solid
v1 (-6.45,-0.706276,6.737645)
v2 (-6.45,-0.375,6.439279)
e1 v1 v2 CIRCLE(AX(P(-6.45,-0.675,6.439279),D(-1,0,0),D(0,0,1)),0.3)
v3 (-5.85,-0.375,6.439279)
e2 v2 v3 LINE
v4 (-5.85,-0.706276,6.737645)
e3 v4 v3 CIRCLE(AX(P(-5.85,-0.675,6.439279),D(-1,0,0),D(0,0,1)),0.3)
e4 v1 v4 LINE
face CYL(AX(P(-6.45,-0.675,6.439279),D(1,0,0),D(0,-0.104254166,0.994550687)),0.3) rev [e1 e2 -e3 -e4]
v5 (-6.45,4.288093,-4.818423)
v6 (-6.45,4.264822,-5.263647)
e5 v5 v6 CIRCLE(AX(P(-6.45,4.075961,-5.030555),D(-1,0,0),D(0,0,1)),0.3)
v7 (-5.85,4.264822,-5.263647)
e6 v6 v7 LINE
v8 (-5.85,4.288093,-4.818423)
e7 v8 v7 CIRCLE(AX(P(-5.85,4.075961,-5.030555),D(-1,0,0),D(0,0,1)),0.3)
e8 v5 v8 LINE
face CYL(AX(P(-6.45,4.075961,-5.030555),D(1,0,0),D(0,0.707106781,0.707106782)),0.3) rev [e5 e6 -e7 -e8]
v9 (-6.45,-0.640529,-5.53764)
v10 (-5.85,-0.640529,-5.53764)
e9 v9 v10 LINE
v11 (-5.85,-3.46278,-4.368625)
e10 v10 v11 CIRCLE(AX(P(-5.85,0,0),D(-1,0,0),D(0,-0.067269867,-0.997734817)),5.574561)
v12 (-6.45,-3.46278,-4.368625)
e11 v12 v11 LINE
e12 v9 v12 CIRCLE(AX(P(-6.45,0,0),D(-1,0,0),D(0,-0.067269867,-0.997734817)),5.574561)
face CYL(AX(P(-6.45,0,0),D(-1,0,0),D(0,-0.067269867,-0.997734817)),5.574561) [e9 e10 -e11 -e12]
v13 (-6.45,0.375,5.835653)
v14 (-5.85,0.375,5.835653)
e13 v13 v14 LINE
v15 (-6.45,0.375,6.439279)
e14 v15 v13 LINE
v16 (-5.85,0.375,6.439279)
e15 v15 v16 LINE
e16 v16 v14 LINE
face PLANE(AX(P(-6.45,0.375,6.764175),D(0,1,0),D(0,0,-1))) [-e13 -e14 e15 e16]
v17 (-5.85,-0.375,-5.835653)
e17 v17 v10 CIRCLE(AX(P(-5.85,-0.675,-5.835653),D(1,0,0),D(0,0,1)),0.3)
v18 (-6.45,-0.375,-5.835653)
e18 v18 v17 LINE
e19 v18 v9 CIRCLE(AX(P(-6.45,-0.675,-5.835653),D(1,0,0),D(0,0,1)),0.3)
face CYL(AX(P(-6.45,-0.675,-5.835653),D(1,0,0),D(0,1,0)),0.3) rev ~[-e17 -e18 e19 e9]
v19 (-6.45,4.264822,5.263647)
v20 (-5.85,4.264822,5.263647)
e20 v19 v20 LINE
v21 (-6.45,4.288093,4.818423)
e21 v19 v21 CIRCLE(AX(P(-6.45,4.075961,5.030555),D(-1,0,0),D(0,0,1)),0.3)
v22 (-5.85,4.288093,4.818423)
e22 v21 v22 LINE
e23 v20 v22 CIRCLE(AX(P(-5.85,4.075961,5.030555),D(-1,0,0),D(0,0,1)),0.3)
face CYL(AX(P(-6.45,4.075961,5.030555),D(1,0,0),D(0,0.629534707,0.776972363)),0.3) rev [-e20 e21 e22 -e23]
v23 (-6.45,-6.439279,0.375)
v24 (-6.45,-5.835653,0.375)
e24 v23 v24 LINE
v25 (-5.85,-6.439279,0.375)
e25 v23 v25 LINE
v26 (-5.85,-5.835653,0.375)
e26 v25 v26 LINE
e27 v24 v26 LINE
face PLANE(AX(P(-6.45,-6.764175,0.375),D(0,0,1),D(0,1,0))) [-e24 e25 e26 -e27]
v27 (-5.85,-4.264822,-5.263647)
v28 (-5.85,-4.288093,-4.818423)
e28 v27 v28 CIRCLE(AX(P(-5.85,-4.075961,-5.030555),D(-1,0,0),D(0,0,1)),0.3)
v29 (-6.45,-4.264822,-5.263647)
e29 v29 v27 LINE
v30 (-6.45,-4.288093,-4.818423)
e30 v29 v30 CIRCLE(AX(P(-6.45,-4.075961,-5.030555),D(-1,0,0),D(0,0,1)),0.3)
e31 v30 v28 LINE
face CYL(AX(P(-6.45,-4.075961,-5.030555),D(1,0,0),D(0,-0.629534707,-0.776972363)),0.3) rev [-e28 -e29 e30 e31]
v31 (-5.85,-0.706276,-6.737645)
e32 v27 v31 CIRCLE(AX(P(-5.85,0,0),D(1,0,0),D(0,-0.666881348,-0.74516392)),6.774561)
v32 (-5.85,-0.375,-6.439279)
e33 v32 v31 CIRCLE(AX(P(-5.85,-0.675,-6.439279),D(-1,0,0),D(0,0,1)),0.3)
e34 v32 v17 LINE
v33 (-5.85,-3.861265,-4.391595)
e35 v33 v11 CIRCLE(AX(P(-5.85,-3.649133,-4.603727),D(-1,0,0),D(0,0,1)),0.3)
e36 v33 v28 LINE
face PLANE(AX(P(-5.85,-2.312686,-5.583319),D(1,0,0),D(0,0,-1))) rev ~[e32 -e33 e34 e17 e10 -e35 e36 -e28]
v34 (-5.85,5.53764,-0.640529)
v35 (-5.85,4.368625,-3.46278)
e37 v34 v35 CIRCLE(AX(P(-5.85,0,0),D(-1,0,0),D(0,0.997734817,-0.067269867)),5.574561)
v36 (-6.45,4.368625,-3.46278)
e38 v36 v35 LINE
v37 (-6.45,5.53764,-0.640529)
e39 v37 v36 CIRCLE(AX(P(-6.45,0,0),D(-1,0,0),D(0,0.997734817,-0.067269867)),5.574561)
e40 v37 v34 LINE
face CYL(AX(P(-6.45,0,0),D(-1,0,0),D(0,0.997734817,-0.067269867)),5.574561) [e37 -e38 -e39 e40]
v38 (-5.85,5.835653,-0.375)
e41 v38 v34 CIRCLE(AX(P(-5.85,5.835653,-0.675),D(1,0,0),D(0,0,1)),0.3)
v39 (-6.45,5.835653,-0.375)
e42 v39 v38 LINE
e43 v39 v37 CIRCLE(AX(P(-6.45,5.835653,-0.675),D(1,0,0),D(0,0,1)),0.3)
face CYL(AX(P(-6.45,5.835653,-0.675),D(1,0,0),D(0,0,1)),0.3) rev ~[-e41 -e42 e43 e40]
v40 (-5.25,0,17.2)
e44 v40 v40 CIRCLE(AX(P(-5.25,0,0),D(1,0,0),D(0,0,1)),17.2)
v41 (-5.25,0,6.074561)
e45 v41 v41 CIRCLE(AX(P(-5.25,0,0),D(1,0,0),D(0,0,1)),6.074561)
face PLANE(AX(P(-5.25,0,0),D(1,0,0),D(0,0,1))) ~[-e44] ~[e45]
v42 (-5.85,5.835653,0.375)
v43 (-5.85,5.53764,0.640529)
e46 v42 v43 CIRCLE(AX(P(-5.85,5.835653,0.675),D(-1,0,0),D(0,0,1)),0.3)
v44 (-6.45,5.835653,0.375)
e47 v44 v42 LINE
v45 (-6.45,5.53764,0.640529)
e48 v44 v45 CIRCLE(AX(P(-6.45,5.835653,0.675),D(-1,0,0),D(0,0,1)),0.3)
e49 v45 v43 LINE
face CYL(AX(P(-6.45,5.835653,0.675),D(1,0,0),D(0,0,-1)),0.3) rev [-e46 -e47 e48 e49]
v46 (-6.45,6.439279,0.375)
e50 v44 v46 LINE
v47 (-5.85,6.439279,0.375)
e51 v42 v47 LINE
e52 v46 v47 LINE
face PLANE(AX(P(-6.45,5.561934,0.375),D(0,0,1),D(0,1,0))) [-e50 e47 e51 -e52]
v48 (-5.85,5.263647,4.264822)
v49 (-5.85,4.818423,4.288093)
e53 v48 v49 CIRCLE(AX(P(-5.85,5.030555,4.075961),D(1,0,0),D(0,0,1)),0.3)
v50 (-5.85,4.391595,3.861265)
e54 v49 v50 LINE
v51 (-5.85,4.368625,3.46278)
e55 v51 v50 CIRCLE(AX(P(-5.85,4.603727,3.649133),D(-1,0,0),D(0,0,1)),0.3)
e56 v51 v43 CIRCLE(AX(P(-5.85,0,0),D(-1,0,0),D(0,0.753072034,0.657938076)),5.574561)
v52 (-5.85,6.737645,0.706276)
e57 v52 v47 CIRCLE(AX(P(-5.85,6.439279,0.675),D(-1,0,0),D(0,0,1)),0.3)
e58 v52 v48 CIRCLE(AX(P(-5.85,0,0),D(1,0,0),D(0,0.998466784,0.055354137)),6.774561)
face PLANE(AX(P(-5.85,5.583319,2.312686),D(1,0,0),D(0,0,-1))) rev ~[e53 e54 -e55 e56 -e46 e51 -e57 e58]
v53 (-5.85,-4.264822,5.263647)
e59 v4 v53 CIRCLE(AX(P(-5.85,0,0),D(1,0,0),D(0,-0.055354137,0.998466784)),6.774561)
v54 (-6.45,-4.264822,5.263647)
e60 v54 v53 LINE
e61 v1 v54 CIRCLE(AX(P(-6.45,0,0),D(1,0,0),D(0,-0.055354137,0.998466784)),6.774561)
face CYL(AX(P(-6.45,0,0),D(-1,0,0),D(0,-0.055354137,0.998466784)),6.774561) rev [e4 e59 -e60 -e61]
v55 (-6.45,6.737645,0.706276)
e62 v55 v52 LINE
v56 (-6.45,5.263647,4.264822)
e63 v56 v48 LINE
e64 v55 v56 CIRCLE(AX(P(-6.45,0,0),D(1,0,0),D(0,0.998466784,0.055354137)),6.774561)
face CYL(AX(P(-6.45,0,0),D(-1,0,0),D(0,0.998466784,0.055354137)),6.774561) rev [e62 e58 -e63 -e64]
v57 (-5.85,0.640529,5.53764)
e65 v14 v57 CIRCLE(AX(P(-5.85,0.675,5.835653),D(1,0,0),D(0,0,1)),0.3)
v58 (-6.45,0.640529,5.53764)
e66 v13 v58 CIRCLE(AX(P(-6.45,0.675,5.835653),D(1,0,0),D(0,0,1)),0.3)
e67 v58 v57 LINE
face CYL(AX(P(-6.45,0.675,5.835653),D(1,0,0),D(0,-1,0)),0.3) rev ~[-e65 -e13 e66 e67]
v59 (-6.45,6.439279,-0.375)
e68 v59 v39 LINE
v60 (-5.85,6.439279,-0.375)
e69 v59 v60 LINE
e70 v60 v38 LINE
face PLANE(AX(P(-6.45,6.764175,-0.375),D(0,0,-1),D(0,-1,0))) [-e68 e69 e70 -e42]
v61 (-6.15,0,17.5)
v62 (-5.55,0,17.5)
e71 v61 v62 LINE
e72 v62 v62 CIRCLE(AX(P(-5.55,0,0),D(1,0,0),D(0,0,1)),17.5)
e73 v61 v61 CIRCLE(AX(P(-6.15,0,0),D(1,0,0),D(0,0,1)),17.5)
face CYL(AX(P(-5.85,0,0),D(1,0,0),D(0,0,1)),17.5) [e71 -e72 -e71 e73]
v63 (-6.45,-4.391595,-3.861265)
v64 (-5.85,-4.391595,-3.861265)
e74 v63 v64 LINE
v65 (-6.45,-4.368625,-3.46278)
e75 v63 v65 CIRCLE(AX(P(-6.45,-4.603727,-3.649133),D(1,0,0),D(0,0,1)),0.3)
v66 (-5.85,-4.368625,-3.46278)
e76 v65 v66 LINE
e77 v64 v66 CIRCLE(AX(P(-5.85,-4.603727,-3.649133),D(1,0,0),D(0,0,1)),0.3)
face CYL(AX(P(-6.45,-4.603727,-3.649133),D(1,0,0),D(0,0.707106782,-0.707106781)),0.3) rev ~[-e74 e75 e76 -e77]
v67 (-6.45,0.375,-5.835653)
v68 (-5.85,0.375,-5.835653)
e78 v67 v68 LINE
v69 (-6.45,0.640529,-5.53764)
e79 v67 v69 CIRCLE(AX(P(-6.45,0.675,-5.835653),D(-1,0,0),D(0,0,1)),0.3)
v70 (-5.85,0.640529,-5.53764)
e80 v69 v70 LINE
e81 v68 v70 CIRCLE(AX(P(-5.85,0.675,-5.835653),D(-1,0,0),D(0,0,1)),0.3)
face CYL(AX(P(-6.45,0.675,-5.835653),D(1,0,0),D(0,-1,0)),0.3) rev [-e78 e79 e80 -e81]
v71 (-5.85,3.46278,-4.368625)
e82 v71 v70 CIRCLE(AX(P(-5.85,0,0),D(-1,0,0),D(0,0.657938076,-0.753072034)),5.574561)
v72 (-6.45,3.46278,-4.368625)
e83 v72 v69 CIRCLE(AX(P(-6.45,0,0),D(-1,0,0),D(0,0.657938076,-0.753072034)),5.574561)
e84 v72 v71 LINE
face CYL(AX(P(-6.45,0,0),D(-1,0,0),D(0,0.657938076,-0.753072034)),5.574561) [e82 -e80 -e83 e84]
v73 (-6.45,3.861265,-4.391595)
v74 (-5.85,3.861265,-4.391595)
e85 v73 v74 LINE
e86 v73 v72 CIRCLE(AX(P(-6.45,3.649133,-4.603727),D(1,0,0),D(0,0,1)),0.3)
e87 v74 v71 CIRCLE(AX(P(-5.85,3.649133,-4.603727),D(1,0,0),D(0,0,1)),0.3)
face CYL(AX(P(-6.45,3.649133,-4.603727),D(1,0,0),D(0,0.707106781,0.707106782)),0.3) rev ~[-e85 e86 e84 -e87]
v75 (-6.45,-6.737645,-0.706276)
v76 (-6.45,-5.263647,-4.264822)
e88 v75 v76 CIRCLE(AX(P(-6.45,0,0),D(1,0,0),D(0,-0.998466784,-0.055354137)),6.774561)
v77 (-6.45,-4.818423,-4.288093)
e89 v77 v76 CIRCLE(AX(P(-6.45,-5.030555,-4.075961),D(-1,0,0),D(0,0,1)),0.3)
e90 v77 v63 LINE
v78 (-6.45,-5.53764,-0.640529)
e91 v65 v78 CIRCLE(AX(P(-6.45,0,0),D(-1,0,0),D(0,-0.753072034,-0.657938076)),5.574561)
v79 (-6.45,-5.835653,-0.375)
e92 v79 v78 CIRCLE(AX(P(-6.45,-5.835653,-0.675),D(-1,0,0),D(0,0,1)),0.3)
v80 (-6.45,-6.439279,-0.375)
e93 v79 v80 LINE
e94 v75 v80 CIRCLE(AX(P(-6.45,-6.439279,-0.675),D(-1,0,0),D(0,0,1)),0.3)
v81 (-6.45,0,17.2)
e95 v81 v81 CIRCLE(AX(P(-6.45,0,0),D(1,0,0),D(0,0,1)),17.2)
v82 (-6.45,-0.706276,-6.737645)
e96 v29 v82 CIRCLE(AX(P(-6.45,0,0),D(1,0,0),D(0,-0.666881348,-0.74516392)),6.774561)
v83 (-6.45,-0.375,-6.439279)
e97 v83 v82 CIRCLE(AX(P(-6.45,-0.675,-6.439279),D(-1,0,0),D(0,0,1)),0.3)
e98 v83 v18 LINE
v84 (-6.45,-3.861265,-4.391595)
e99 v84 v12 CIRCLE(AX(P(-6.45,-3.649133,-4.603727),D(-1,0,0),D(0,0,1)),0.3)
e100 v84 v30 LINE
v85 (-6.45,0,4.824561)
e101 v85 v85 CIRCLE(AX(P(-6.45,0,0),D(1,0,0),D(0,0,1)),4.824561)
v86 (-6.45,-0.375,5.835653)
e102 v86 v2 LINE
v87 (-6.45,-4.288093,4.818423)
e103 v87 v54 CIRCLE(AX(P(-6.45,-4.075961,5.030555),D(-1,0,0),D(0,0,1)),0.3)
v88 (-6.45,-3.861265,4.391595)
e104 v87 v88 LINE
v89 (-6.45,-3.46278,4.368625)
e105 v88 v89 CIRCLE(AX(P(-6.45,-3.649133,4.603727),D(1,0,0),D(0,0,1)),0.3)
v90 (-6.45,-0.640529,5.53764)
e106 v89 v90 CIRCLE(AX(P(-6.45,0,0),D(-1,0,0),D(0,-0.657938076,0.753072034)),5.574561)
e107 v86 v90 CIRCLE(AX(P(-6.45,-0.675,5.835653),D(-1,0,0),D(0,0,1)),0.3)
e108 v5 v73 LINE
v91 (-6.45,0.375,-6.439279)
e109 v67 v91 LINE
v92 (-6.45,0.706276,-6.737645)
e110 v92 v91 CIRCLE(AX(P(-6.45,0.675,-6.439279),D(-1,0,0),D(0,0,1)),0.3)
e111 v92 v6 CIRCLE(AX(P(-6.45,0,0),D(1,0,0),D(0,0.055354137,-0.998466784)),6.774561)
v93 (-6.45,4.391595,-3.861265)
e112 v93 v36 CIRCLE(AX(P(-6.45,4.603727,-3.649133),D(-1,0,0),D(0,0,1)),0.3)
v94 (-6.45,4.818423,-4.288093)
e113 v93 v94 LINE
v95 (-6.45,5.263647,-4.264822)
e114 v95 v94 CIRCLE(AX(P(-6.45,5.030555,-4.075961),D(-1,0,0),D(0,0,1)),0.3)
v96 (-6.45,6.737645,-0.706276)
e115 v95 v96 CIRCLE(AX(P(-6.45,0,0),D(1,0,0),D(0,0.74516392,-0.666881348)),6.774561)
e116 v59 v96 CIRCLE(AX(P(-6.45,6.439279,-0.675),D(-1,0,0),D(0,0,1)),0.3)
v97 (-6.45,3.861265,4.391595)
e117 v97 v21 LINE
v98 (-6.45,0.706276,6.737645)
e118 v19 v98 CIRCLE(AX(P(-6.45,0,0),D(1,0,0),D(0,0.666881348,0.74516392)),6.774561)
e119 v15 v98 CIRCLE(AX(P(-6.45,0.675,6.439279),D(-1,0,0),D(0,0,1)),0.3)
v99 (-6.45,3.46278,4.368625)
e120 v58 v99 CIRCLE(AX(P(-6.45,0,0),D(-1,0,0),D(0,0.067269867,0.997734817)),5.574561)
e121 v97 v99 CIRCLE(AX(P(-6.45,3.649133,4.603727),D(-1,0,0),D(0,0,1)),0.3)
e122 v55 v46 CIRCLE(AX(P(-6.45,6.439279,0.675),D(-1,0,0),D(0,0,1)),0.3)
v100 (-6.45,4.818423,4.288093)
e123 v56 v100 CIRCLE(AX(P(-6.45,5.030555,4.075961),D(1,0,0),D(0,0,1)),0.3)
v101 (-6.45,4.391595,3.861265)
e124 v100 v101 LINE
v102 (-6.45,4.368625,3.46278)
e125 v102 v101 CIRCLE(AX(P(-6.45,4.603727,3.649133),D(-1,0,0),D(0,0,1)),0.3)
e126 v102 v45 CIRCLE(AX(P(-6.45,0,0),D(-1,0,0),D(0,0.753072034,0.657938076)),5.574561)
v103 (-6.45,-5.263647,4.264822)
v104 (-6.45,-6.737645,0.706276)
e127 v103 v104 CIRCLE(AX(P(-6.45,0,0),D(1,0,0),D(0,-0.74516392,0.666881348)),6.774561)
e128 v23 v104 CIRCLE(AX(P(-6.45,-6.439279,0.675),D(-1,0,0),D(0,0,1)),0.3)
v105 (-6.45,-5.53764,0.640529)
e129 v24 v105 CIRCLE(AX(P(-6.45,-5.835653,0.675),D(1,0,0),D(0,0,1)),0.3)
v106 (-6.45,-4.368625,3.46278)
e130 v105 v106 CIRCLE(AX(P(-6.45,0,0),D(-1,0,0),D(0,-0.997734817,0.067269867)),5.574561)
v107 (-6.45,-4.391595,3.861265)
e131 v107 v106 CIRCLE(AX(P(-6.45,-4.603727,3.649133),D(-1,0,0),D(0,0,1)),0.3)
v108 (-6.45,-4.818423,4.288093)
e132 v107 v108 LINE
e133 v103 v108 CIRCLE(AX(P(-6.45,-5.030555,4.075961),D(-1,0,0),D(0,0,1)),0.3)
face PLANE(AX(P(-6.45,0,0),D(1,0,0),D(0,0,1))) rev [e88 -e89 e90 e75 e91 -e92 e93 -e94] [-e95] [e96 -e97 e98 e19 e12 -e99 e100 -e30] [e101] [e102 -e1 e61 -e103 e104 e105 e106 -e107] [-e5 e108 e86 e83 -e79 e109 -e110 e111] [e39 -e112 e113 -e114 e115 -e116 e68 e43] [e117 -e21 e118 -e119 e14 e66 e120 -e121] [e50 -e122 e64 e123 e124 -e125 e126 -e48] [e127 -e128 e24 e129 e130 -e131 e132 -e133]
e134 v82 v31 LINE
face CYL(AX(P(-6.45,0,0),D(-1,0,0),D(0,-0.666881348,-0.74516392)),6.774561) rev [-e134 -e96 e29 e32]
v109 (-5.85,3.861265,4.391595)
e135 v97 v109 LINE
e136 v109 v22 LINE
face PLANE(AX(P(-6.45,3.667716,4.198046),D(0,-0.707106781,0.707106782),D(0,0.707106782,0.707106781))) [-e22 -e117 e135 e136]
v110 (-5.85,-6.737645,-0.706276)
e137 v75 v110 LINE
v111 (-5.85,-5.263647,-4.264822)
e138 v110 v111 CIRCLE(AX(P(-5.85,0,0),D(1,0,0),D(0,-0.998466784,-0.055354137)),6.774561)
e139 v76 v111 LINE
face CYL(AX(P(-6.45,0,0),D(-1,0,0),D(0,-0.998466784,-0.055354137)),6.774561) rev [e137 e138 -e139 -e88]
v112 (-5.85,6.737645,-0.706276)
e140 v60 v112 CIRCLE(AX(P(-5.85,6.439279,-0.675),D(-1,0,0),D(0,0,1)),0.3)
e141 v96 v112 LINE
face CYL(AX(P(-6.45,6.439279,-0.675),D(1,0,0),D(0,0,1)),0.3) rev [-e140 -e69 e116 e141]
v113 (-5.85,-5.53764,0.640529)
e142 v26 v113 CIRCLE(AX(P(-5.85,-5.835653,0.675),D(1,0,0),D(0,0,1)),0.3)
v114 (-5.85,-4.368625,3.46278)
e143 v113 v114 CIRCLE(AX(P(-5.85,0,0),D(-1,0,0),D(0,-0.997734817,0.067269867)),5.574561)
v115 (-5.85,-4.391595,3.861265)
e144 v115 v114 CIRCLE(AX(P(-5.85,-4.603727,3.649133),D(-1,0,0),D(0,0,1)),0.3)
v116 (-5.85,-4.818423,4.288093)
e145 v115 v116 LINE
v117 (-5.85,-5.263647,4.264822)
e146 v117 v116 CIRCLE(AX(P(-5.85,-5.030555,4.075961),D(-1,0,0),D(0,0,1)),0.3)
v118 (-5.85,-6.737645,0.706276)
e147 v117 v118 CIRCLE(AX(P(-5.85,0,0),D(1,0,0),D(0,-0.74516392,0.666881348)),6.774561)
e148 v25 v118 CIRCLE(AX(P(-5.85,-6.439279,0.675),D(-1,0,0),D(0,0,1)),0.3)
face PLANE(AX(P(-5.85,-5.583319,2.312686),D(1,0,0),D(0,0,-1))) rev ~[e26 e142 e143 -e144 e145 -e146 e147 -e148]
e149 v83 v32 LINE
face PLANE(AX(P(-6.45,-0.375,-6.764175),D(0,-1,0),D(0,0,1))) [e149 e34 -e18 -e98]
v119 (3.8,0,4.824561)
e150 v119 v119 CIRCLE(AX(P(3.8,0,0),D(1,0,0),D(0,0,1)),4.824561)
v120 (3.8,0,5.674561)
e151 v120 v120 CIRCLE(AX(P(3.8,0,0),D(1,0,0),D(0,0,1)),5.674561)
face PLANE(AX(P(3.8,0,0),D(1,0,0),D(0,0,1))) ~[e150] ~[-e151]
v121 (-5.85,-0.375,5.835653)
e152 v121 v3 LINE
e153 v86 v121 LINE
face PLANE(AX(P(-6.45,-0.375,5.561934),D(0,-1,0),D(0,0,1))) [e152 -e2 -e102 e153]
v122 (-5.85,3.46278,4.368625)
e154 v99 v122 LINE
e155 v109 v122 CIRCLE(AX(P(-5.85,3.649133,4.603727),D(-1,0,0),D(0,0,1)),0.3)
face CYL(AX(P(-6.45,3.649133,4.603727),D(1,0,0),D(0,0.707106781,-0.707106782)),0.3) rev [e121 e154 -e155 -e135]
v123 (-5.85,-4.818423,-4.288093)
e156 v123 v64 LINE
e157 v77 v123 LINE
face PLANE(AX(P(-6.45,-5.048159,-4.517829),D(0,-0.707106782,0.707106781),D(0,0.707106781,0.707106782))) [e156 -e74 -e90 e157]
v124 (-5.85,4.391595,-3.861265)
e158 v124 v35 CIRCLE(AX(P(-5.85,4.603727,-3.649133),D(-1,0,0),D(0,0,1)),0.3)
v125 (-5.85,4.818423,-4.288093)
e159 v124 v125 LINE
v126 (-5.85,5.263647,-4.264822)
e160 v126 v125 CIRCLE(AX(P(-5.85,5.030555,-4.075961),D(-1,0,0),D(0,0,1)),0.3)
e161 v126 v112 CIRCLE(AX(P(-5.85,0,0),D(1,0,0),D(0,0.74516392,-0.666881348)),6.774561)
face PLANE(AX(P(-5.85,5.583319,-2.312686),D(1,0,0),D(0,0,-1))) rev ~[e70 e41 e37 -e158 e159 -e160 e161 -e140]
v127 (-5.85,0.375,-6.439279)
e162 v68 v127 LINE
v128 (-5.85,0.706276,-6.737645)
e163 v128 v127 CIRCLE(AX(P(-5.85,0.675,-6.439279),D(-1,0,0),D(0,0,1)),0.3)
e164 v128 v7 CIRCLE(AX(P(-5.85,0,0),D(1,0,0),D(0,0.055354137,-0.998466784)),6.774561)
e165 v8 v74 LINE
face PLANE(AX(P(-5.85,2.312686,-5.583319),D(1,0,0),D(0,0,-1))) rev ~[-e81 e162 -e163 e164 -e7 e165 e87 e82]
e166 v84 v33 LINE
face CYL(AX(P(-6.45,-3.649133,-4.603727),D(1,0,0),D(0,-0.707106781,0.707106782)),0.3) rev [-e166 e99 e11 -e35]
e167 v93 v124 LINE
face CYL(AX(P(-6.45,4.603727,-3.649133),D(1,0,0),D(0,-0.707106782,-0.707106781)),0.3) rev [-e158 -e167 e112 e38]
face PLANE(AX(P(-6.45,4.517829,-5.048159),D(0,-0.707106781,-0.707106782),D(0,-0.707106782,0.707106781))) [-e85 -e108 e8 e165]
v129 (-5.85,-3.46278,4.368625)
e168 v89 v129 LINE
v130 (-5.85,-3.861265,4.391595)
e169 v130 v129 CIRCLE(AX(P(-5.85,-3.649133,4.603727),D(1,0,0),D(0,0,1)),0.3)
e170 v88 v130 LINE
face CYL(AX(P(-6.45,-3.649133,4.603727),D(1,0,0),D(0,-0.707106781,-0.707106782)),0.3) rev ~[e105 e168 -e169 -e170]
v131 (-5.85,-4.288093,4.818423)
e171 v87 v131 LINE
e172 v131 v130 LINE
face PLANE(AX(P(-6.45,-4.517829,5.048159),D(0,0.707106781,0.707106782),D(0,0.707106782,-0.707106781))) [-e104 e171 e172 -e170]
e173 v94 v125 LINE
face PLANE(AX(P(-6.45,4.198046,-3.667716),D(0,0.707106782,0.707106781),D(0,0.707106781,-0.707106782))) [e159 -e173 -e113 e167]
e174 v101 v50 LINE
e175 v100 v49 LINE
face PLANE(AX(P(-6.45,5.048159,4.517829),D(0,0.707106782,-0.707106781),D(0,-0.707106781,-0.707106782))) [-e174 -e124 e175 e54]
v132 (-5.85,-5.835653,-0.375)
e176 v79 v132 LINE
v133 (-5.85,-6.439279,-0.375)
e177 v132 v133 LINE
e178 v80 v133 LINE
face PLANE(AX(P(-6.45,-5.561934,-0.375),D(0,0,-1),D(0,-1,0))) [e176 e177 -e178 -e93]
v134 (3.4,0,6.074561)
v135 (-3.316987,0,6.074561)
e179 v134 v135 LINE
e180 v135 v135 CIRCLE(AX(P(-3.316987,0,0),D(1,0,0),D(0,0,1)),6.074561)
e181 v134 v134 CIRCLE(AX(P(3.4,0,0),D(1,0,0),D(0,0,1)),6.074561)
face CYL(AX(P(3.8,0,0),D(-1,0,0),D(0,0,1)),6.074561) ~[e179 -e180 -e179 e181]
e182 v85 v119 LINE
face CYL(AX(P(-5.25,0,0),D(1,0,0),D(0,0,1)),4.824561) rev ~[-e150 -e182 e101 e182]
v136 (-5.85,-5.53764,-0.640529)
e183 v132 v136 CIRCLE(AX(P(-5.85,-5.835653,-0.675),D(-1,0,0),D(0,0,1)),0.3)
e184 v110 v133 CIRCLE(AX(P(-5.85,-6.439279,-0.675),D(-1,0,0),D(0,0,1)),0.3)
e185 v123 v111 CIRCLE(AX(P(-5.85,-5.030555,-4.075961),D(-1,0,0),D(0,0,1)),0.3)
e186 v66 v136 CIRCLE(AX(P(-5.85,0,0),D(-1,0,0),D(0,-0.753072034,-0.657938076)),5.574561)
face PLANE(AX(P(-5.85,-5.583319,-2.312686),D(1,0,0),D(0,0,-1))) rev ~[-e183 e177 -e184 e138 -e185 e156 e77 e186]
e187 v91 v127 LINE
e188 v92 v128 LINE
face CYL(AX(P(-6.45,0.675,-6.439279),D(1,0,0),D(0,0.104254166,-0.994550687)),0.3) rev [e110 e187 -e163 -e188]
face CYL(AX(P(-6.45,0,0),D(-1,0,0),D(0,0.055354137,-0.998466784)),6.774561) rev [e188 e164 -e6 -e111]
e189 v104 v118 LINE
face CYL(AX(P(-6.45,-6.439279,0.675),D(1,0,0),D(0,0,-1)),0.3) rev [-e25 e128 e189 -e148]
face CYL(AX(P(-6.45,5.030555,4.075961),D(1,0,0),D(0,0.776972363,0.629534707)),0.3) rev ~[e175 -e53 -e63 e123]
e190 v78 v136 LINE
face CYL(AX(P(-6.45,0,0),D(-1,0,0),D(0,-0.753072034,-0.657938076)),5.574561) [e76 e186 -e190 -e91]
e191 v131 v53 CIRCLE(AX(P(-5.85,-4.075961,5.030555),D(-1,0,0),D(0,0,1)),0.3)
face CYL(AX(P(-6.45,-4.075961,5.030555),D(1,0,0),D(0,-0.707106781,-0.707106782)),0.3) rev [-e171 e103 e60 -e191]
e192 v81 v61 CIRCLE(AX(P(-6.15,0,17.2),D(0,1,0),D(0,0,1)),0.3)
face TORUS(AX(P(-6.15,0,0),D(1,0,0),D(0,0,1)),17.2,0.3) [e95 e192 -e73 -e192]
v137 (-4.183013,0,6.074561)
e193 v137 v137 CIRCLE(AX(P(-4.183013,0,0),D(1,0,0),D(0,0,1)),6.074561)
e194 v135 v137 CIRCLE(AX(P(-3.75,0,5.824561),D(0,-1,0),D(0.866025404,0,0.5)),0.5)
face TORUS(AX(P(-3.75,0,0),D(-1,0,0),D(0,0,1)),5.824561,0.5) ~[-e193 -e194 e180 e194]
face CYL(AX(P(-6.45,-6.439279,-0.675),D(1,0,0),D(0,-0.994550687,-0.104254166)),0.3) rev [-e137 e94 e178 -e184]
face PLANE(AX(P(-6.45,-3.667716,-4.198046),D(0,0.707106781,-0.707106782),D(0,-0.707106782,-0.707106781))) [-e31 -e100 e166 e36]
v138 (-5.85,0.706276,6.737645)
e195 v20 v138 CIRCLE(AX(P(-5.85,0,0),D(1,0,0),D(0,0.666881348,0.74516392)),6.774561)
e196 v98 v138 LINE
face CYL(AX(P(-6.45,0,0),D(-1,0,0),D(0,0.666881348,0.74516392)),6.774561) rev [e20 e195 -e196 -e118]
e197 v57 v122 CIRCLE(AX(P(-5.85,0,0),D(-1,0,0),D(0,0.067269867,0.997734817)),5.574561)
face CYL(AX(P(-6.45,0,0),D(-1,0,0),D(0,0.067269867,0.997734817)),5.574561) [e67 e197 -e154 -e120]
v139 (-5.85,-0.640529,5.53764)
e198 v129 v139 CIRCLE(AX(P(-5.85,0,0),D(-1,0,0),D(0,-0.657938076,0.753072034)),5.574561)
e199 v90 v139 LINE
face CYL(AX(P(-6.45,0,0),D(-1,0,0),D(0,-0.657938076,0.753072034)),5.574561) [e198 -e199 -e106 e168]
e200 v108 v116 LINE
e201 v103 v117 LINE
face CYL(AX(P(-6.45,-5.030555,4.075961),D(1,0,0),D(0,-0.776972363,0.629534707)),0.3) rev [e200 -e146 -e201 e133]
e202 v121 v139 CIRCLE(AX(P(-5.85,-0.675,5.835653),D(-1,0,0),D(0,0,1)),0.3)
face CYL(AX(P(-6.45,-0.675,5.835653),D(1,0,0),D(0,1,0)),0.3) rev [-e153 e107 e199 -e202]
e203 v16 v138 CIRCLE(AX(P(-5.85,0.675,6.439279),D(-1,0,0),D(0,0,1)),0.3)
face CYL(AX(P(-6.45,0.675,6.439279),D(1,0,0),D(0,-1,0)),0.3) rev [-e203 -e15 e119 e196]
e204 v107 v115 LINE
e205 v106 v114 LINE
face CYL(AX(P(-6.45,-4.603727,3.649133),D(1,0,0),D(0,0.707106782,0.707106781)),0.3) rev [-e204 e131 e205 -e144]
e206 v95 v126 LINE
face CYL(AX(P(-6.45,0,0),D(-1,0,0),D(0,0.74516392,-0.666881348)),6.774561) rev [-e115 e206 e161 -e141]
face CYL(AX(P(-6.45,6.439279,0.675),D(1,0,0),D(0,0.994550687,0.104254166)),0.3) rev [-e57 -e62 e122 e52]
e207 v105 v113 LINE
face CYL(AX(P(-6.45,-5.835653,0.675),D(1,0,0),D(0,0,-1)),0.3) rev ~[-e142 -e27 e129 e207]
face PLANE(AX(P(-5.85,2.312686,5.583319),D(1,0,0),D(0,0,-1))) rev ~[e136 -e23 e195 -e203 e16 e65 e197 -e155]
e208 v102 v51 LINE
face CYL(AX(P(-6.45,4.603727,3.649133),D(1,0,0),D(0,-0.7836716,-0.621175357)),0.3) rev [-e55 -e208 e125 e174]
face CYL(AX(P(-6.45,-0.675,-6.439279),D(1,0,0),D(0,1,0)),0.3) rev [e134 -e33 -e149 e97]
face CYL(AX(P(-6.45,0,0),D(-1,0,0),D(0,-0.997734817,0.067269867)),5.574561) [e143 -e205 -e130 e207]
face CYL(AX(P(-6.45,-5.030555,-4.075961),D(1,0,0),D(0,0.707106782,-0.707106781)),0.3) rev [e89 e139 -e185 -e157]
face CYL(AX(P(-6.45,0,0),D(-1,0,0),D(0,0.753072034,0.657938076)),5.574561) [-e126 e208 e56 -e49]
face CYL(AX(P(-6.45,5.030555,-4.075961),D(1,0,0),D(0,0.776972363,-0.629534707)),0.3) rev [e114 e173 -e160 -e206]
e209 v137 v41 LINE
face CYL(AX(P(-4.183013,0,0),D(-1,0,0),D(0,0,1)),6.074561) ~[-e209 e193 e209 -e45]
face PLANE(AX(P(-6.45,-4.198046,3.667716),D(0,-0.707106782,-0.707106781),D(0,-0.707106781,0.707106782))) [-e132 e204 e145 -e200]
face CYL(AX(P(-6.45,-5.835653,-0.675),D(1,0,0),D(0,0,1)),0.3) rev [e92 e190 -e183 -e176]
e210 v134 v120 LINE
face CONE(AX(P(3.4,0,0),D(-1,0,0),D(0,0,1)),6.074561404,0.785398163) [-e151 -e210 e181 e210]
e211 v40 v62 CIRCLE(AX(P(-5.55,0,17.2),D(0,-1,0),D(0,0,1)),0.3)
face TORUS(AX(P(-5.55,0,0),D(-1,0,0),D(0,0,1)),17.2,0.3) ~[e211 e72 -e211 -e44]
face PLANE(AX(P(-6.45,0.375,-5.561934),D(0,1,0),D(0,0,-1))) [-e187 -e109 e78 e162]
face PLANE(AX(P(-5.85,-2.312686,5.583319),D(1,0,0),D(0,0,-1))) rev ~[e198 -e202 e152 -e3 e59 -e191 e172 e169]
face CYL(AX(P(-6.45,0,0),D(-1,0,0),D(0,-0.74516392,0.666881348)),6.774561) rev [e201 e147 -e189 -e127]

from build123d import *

# Parameters (mm, degrees)
SKETCH2_W          = 1.2
SKETCH2_H          = 12.675438596
CHAMFER2_SIZE      = 0.4
FILLET1_R          = 0.3
CUT_EXTRUDE2_DEPTH = 0.6
FILLET2_R          = 0.3


with BuildPart() as part:
    # Sketch2 → Revolve1 (revolve)
    with BuildSketch(Plane.XY):
        with Locations((-5.85, 11.162280702)):
            Rectangle(SKETCH2_W, SKETCH2_H)
    revolve(axis=Axis((0, 0, 0), (1, 0, 0)))

    # Sketch4 → Revolve2 (revolve)
    with BuildSketch(Plane.XY):
        with BuildLine():
            Line((-5.25, 6.074561404), (-5.25, 4.824561404))
            Line((-5.25, 4.824561404), (3.8, 4.824561404))
            Line((3.8, 4.824561404), (3.8, 6.074561404))
            Line((3.8, 6.074561404), (-3.316987298, 6.074561404))
            ThreePointArc((-3.316987298, 6.074561404), (-3.75, 6.324561404), (-4.183012702, 6.074561404))
            Line((-4.183012702, 6.074561404), (-5.25, 6.074561404))
        make_face()
    revolve(axis=Axis((0, 0, 0), (1, 0, 0)))

    # Chamfer2
    chamfer2_edges = [part.edges().sort_by_distance(p)[0] for p in [
        (3.8, -6.074561404, 0),
    ]]
    chamfer(chamfer2_edges, length=CHAMFER2_SIZE)

    # Fillet1
    fillet1_edges = [part.edges().sort_by_distance(p)[0] for p in [
        (-5.25, -17.5, 0),
        (-6.45, -17.5, 0),
    ]]
    fillet(fillet1_edges, radius=FILLET1_R)

    # Sketch3<3> → Cut-Extrude2 (cut)
    with BuildSketch(Plane.ZY.offset(6.45)):
        with BuildLine():
            ThreePointArc((4.517828644, 5.048158729), (2.592512411, 6.258878622), (0.375, 6.76417454))
            Line((0.375, 6.76417454), (0.375, 5.561934002))
            ThreePointArc((0.375, 5.561934002), (2.133292292, 5.150223183), (3.667716206, 4.198046292))
            Line((3.667716206, 4.198046292), (4.517828644, 5.048158729))
        make_face()
        with BuildLine():
            ThreePointArc((6.76417454, 0.375), (6.258878622, 2.592512411), (5.048158729, 4.517828644))
            Line((5.048158729, 4.517828644), (4.198046292, 3.667716206))
            ThreePointArc((4.198046292, 3.667716206), (5.150223183, 2.133292292), (5.561934002, 0.375))
            Line((5.561934002, 0.375), (6.76417454, 0.375))
        make_face()
        with BuildLine():
            ThreePointArc((5.048158729, -4.517828644), (6.258878622, -2.592512411), (6.76417454, -0.375))
            Line((6.76417454, -0.375), (5.561934002, -0.375))
            ThreePointArc((5.561934002, -0.375), (5.150223183, -2.133292292), (4.198046292, -3.667716206))
            Line((4.198046292, -3.667716206), (5.048158729, -4.517828644))
        make_face()
        with BuildLine():
            ThreePointArc((0.375, -6.76417454), (2.592512411, -6.258878622), (4.517828644, -5.048158729))
            Line((4.517828644, -5.048158729), (3.667716206, -4.198046292))
            ThreePointArc((3.667716206, -4.198046292), (2.133292292, -5.150223183), (0.375, -5.561934002))
            Line((0.375, -5.561934002), (0.375, -6.76417454))
        make_face()
        with BuildLine():
            ThreePointArc((-4.517828644, -5.048158729), (-2.592512411, -6.258878622), (-0.375, -6.76417454))
            Line((-0.375, -6.76417454), (-0.375, -5.561934002))
            ThreePointArc((-0.375, -5.561934002), (-2.133292292, -5.150223183), (-3.667716206, -4.198046292))
            Line((-3.667716206, -4.198046292), (-4.517828644, -5.048158729))
        make_face()
        with BuildLine():
            ThreePointArc((-6.76417454, -0.375), (-6.258878622, -2.592512411), (-5.048158729, -4.517828644))
            Line((-5.048158729, -4.517828644), (-4.198046292, -3.667716206))
            ThreePointArc((-4.198046292, -3.667716206), (-5.150223183, -2.133292292), (-5.561934002, -0.375))
            Line((-5.561934002, -0.375), (-6.76417454, -0.375))
        make_face()
        with BuildLine():
            ThreePointArc((-5.048158729, 4.517828644), (-6.258878622, 2.592512411), (-6.76417454, 0.375))
            Line((-6.76417454, 0.375), (-5.561934002, 0.375))
            ThreePointArc((-5.561934002, 0.375), (-5.150223183, 2.133292292), (-4.198046292, 3.667716206))
            Line((-4.198046292, 3.667716206), (-5.048158729, 4.517828644))
        make_face()
        with BuildLine():
            ThreePointArc((-0.375, 6.76417454), (-2.592512411, 6.258878622), (-4.517828644, 5.048158729))
            Line((-4.517828644, 5.048158729), (-3.667716206, 4.198046292))
            ThreePointArc((-3.667716206, 4.198046292), (-2.133292292, 5.150223183), (-0.375, 5.561934002))
            Line((-0.375, 5.561934002), (-0.375, 6.76417454))
        make_face()
    extrude(amount=-CUT_EXTRUDE2_DEPTH, mode=Mode.SUBTRACT)

    # Fillet2
    fillet2_edges = [part.edges().sort_by_distance(p)[0] for p in [
        (-6.15, 0.375, 5.561934002),
        (-6.15, 0.375, 6.76417454),
        (-6.15, 4.517828644, 5.048158729),
        (-6.15, 3.667716206, 4.198046292),
        (-6.15, -0.375, -5.561934002),
        (-6.15, -0.375, -6.76417454),
        (-6.15, -4.517828644, -5.048158729),
        (-6.15, -3.667716206, -4.198046292),
        (-6.15, 5.561934002, -0.375),
        (-6.15, 6.76417454, -0.375),
        (-6.15, 5.048158729, -4.517828644),
        (-6.15, 4.198046292, -3.667716206),
        (-6.15, -3.667716206, 4.198046292),
        (-6.15, -4.517828644, 5.048158729),
        (-6.15, -0.375, 6.76417454),
        (-6.15, -0.375, 5.561934002),
        (-6.15, 5.048158729, 4.517828644),
        (-6.15, 5.561934002, 0.375),
        (-6.15, 4.198046292, 3.667716206),
        (-6.15, 3.667716206, -4.198046292),
        (-6.15, 4.517828644, -5.048158729),
        (-6.15, 0.375, -6.76417454),
        (-6.15, 0.375, -5.561934002),
        (-6.15, -4.198046292, -3.667716206),
        (-6.15, -5.048158729, -4.517828644),
        (-6.15, -6.76417454, -0.375),
        (-6.15, -5.561934002, -0.375),
        (-6.15, -5.561934002, 0.375),
        (-6.15, -6.76417454, 0.375),
        (-6.15, -5.048158729, 4.517828644),
        (-6.15, -4.198046292, 3.667716206),
        (-6.15, 6.76417454, 0.375),
    ]]
    fillet(fillet2_edges, radius=FILLET2_R)


solid = part.part
